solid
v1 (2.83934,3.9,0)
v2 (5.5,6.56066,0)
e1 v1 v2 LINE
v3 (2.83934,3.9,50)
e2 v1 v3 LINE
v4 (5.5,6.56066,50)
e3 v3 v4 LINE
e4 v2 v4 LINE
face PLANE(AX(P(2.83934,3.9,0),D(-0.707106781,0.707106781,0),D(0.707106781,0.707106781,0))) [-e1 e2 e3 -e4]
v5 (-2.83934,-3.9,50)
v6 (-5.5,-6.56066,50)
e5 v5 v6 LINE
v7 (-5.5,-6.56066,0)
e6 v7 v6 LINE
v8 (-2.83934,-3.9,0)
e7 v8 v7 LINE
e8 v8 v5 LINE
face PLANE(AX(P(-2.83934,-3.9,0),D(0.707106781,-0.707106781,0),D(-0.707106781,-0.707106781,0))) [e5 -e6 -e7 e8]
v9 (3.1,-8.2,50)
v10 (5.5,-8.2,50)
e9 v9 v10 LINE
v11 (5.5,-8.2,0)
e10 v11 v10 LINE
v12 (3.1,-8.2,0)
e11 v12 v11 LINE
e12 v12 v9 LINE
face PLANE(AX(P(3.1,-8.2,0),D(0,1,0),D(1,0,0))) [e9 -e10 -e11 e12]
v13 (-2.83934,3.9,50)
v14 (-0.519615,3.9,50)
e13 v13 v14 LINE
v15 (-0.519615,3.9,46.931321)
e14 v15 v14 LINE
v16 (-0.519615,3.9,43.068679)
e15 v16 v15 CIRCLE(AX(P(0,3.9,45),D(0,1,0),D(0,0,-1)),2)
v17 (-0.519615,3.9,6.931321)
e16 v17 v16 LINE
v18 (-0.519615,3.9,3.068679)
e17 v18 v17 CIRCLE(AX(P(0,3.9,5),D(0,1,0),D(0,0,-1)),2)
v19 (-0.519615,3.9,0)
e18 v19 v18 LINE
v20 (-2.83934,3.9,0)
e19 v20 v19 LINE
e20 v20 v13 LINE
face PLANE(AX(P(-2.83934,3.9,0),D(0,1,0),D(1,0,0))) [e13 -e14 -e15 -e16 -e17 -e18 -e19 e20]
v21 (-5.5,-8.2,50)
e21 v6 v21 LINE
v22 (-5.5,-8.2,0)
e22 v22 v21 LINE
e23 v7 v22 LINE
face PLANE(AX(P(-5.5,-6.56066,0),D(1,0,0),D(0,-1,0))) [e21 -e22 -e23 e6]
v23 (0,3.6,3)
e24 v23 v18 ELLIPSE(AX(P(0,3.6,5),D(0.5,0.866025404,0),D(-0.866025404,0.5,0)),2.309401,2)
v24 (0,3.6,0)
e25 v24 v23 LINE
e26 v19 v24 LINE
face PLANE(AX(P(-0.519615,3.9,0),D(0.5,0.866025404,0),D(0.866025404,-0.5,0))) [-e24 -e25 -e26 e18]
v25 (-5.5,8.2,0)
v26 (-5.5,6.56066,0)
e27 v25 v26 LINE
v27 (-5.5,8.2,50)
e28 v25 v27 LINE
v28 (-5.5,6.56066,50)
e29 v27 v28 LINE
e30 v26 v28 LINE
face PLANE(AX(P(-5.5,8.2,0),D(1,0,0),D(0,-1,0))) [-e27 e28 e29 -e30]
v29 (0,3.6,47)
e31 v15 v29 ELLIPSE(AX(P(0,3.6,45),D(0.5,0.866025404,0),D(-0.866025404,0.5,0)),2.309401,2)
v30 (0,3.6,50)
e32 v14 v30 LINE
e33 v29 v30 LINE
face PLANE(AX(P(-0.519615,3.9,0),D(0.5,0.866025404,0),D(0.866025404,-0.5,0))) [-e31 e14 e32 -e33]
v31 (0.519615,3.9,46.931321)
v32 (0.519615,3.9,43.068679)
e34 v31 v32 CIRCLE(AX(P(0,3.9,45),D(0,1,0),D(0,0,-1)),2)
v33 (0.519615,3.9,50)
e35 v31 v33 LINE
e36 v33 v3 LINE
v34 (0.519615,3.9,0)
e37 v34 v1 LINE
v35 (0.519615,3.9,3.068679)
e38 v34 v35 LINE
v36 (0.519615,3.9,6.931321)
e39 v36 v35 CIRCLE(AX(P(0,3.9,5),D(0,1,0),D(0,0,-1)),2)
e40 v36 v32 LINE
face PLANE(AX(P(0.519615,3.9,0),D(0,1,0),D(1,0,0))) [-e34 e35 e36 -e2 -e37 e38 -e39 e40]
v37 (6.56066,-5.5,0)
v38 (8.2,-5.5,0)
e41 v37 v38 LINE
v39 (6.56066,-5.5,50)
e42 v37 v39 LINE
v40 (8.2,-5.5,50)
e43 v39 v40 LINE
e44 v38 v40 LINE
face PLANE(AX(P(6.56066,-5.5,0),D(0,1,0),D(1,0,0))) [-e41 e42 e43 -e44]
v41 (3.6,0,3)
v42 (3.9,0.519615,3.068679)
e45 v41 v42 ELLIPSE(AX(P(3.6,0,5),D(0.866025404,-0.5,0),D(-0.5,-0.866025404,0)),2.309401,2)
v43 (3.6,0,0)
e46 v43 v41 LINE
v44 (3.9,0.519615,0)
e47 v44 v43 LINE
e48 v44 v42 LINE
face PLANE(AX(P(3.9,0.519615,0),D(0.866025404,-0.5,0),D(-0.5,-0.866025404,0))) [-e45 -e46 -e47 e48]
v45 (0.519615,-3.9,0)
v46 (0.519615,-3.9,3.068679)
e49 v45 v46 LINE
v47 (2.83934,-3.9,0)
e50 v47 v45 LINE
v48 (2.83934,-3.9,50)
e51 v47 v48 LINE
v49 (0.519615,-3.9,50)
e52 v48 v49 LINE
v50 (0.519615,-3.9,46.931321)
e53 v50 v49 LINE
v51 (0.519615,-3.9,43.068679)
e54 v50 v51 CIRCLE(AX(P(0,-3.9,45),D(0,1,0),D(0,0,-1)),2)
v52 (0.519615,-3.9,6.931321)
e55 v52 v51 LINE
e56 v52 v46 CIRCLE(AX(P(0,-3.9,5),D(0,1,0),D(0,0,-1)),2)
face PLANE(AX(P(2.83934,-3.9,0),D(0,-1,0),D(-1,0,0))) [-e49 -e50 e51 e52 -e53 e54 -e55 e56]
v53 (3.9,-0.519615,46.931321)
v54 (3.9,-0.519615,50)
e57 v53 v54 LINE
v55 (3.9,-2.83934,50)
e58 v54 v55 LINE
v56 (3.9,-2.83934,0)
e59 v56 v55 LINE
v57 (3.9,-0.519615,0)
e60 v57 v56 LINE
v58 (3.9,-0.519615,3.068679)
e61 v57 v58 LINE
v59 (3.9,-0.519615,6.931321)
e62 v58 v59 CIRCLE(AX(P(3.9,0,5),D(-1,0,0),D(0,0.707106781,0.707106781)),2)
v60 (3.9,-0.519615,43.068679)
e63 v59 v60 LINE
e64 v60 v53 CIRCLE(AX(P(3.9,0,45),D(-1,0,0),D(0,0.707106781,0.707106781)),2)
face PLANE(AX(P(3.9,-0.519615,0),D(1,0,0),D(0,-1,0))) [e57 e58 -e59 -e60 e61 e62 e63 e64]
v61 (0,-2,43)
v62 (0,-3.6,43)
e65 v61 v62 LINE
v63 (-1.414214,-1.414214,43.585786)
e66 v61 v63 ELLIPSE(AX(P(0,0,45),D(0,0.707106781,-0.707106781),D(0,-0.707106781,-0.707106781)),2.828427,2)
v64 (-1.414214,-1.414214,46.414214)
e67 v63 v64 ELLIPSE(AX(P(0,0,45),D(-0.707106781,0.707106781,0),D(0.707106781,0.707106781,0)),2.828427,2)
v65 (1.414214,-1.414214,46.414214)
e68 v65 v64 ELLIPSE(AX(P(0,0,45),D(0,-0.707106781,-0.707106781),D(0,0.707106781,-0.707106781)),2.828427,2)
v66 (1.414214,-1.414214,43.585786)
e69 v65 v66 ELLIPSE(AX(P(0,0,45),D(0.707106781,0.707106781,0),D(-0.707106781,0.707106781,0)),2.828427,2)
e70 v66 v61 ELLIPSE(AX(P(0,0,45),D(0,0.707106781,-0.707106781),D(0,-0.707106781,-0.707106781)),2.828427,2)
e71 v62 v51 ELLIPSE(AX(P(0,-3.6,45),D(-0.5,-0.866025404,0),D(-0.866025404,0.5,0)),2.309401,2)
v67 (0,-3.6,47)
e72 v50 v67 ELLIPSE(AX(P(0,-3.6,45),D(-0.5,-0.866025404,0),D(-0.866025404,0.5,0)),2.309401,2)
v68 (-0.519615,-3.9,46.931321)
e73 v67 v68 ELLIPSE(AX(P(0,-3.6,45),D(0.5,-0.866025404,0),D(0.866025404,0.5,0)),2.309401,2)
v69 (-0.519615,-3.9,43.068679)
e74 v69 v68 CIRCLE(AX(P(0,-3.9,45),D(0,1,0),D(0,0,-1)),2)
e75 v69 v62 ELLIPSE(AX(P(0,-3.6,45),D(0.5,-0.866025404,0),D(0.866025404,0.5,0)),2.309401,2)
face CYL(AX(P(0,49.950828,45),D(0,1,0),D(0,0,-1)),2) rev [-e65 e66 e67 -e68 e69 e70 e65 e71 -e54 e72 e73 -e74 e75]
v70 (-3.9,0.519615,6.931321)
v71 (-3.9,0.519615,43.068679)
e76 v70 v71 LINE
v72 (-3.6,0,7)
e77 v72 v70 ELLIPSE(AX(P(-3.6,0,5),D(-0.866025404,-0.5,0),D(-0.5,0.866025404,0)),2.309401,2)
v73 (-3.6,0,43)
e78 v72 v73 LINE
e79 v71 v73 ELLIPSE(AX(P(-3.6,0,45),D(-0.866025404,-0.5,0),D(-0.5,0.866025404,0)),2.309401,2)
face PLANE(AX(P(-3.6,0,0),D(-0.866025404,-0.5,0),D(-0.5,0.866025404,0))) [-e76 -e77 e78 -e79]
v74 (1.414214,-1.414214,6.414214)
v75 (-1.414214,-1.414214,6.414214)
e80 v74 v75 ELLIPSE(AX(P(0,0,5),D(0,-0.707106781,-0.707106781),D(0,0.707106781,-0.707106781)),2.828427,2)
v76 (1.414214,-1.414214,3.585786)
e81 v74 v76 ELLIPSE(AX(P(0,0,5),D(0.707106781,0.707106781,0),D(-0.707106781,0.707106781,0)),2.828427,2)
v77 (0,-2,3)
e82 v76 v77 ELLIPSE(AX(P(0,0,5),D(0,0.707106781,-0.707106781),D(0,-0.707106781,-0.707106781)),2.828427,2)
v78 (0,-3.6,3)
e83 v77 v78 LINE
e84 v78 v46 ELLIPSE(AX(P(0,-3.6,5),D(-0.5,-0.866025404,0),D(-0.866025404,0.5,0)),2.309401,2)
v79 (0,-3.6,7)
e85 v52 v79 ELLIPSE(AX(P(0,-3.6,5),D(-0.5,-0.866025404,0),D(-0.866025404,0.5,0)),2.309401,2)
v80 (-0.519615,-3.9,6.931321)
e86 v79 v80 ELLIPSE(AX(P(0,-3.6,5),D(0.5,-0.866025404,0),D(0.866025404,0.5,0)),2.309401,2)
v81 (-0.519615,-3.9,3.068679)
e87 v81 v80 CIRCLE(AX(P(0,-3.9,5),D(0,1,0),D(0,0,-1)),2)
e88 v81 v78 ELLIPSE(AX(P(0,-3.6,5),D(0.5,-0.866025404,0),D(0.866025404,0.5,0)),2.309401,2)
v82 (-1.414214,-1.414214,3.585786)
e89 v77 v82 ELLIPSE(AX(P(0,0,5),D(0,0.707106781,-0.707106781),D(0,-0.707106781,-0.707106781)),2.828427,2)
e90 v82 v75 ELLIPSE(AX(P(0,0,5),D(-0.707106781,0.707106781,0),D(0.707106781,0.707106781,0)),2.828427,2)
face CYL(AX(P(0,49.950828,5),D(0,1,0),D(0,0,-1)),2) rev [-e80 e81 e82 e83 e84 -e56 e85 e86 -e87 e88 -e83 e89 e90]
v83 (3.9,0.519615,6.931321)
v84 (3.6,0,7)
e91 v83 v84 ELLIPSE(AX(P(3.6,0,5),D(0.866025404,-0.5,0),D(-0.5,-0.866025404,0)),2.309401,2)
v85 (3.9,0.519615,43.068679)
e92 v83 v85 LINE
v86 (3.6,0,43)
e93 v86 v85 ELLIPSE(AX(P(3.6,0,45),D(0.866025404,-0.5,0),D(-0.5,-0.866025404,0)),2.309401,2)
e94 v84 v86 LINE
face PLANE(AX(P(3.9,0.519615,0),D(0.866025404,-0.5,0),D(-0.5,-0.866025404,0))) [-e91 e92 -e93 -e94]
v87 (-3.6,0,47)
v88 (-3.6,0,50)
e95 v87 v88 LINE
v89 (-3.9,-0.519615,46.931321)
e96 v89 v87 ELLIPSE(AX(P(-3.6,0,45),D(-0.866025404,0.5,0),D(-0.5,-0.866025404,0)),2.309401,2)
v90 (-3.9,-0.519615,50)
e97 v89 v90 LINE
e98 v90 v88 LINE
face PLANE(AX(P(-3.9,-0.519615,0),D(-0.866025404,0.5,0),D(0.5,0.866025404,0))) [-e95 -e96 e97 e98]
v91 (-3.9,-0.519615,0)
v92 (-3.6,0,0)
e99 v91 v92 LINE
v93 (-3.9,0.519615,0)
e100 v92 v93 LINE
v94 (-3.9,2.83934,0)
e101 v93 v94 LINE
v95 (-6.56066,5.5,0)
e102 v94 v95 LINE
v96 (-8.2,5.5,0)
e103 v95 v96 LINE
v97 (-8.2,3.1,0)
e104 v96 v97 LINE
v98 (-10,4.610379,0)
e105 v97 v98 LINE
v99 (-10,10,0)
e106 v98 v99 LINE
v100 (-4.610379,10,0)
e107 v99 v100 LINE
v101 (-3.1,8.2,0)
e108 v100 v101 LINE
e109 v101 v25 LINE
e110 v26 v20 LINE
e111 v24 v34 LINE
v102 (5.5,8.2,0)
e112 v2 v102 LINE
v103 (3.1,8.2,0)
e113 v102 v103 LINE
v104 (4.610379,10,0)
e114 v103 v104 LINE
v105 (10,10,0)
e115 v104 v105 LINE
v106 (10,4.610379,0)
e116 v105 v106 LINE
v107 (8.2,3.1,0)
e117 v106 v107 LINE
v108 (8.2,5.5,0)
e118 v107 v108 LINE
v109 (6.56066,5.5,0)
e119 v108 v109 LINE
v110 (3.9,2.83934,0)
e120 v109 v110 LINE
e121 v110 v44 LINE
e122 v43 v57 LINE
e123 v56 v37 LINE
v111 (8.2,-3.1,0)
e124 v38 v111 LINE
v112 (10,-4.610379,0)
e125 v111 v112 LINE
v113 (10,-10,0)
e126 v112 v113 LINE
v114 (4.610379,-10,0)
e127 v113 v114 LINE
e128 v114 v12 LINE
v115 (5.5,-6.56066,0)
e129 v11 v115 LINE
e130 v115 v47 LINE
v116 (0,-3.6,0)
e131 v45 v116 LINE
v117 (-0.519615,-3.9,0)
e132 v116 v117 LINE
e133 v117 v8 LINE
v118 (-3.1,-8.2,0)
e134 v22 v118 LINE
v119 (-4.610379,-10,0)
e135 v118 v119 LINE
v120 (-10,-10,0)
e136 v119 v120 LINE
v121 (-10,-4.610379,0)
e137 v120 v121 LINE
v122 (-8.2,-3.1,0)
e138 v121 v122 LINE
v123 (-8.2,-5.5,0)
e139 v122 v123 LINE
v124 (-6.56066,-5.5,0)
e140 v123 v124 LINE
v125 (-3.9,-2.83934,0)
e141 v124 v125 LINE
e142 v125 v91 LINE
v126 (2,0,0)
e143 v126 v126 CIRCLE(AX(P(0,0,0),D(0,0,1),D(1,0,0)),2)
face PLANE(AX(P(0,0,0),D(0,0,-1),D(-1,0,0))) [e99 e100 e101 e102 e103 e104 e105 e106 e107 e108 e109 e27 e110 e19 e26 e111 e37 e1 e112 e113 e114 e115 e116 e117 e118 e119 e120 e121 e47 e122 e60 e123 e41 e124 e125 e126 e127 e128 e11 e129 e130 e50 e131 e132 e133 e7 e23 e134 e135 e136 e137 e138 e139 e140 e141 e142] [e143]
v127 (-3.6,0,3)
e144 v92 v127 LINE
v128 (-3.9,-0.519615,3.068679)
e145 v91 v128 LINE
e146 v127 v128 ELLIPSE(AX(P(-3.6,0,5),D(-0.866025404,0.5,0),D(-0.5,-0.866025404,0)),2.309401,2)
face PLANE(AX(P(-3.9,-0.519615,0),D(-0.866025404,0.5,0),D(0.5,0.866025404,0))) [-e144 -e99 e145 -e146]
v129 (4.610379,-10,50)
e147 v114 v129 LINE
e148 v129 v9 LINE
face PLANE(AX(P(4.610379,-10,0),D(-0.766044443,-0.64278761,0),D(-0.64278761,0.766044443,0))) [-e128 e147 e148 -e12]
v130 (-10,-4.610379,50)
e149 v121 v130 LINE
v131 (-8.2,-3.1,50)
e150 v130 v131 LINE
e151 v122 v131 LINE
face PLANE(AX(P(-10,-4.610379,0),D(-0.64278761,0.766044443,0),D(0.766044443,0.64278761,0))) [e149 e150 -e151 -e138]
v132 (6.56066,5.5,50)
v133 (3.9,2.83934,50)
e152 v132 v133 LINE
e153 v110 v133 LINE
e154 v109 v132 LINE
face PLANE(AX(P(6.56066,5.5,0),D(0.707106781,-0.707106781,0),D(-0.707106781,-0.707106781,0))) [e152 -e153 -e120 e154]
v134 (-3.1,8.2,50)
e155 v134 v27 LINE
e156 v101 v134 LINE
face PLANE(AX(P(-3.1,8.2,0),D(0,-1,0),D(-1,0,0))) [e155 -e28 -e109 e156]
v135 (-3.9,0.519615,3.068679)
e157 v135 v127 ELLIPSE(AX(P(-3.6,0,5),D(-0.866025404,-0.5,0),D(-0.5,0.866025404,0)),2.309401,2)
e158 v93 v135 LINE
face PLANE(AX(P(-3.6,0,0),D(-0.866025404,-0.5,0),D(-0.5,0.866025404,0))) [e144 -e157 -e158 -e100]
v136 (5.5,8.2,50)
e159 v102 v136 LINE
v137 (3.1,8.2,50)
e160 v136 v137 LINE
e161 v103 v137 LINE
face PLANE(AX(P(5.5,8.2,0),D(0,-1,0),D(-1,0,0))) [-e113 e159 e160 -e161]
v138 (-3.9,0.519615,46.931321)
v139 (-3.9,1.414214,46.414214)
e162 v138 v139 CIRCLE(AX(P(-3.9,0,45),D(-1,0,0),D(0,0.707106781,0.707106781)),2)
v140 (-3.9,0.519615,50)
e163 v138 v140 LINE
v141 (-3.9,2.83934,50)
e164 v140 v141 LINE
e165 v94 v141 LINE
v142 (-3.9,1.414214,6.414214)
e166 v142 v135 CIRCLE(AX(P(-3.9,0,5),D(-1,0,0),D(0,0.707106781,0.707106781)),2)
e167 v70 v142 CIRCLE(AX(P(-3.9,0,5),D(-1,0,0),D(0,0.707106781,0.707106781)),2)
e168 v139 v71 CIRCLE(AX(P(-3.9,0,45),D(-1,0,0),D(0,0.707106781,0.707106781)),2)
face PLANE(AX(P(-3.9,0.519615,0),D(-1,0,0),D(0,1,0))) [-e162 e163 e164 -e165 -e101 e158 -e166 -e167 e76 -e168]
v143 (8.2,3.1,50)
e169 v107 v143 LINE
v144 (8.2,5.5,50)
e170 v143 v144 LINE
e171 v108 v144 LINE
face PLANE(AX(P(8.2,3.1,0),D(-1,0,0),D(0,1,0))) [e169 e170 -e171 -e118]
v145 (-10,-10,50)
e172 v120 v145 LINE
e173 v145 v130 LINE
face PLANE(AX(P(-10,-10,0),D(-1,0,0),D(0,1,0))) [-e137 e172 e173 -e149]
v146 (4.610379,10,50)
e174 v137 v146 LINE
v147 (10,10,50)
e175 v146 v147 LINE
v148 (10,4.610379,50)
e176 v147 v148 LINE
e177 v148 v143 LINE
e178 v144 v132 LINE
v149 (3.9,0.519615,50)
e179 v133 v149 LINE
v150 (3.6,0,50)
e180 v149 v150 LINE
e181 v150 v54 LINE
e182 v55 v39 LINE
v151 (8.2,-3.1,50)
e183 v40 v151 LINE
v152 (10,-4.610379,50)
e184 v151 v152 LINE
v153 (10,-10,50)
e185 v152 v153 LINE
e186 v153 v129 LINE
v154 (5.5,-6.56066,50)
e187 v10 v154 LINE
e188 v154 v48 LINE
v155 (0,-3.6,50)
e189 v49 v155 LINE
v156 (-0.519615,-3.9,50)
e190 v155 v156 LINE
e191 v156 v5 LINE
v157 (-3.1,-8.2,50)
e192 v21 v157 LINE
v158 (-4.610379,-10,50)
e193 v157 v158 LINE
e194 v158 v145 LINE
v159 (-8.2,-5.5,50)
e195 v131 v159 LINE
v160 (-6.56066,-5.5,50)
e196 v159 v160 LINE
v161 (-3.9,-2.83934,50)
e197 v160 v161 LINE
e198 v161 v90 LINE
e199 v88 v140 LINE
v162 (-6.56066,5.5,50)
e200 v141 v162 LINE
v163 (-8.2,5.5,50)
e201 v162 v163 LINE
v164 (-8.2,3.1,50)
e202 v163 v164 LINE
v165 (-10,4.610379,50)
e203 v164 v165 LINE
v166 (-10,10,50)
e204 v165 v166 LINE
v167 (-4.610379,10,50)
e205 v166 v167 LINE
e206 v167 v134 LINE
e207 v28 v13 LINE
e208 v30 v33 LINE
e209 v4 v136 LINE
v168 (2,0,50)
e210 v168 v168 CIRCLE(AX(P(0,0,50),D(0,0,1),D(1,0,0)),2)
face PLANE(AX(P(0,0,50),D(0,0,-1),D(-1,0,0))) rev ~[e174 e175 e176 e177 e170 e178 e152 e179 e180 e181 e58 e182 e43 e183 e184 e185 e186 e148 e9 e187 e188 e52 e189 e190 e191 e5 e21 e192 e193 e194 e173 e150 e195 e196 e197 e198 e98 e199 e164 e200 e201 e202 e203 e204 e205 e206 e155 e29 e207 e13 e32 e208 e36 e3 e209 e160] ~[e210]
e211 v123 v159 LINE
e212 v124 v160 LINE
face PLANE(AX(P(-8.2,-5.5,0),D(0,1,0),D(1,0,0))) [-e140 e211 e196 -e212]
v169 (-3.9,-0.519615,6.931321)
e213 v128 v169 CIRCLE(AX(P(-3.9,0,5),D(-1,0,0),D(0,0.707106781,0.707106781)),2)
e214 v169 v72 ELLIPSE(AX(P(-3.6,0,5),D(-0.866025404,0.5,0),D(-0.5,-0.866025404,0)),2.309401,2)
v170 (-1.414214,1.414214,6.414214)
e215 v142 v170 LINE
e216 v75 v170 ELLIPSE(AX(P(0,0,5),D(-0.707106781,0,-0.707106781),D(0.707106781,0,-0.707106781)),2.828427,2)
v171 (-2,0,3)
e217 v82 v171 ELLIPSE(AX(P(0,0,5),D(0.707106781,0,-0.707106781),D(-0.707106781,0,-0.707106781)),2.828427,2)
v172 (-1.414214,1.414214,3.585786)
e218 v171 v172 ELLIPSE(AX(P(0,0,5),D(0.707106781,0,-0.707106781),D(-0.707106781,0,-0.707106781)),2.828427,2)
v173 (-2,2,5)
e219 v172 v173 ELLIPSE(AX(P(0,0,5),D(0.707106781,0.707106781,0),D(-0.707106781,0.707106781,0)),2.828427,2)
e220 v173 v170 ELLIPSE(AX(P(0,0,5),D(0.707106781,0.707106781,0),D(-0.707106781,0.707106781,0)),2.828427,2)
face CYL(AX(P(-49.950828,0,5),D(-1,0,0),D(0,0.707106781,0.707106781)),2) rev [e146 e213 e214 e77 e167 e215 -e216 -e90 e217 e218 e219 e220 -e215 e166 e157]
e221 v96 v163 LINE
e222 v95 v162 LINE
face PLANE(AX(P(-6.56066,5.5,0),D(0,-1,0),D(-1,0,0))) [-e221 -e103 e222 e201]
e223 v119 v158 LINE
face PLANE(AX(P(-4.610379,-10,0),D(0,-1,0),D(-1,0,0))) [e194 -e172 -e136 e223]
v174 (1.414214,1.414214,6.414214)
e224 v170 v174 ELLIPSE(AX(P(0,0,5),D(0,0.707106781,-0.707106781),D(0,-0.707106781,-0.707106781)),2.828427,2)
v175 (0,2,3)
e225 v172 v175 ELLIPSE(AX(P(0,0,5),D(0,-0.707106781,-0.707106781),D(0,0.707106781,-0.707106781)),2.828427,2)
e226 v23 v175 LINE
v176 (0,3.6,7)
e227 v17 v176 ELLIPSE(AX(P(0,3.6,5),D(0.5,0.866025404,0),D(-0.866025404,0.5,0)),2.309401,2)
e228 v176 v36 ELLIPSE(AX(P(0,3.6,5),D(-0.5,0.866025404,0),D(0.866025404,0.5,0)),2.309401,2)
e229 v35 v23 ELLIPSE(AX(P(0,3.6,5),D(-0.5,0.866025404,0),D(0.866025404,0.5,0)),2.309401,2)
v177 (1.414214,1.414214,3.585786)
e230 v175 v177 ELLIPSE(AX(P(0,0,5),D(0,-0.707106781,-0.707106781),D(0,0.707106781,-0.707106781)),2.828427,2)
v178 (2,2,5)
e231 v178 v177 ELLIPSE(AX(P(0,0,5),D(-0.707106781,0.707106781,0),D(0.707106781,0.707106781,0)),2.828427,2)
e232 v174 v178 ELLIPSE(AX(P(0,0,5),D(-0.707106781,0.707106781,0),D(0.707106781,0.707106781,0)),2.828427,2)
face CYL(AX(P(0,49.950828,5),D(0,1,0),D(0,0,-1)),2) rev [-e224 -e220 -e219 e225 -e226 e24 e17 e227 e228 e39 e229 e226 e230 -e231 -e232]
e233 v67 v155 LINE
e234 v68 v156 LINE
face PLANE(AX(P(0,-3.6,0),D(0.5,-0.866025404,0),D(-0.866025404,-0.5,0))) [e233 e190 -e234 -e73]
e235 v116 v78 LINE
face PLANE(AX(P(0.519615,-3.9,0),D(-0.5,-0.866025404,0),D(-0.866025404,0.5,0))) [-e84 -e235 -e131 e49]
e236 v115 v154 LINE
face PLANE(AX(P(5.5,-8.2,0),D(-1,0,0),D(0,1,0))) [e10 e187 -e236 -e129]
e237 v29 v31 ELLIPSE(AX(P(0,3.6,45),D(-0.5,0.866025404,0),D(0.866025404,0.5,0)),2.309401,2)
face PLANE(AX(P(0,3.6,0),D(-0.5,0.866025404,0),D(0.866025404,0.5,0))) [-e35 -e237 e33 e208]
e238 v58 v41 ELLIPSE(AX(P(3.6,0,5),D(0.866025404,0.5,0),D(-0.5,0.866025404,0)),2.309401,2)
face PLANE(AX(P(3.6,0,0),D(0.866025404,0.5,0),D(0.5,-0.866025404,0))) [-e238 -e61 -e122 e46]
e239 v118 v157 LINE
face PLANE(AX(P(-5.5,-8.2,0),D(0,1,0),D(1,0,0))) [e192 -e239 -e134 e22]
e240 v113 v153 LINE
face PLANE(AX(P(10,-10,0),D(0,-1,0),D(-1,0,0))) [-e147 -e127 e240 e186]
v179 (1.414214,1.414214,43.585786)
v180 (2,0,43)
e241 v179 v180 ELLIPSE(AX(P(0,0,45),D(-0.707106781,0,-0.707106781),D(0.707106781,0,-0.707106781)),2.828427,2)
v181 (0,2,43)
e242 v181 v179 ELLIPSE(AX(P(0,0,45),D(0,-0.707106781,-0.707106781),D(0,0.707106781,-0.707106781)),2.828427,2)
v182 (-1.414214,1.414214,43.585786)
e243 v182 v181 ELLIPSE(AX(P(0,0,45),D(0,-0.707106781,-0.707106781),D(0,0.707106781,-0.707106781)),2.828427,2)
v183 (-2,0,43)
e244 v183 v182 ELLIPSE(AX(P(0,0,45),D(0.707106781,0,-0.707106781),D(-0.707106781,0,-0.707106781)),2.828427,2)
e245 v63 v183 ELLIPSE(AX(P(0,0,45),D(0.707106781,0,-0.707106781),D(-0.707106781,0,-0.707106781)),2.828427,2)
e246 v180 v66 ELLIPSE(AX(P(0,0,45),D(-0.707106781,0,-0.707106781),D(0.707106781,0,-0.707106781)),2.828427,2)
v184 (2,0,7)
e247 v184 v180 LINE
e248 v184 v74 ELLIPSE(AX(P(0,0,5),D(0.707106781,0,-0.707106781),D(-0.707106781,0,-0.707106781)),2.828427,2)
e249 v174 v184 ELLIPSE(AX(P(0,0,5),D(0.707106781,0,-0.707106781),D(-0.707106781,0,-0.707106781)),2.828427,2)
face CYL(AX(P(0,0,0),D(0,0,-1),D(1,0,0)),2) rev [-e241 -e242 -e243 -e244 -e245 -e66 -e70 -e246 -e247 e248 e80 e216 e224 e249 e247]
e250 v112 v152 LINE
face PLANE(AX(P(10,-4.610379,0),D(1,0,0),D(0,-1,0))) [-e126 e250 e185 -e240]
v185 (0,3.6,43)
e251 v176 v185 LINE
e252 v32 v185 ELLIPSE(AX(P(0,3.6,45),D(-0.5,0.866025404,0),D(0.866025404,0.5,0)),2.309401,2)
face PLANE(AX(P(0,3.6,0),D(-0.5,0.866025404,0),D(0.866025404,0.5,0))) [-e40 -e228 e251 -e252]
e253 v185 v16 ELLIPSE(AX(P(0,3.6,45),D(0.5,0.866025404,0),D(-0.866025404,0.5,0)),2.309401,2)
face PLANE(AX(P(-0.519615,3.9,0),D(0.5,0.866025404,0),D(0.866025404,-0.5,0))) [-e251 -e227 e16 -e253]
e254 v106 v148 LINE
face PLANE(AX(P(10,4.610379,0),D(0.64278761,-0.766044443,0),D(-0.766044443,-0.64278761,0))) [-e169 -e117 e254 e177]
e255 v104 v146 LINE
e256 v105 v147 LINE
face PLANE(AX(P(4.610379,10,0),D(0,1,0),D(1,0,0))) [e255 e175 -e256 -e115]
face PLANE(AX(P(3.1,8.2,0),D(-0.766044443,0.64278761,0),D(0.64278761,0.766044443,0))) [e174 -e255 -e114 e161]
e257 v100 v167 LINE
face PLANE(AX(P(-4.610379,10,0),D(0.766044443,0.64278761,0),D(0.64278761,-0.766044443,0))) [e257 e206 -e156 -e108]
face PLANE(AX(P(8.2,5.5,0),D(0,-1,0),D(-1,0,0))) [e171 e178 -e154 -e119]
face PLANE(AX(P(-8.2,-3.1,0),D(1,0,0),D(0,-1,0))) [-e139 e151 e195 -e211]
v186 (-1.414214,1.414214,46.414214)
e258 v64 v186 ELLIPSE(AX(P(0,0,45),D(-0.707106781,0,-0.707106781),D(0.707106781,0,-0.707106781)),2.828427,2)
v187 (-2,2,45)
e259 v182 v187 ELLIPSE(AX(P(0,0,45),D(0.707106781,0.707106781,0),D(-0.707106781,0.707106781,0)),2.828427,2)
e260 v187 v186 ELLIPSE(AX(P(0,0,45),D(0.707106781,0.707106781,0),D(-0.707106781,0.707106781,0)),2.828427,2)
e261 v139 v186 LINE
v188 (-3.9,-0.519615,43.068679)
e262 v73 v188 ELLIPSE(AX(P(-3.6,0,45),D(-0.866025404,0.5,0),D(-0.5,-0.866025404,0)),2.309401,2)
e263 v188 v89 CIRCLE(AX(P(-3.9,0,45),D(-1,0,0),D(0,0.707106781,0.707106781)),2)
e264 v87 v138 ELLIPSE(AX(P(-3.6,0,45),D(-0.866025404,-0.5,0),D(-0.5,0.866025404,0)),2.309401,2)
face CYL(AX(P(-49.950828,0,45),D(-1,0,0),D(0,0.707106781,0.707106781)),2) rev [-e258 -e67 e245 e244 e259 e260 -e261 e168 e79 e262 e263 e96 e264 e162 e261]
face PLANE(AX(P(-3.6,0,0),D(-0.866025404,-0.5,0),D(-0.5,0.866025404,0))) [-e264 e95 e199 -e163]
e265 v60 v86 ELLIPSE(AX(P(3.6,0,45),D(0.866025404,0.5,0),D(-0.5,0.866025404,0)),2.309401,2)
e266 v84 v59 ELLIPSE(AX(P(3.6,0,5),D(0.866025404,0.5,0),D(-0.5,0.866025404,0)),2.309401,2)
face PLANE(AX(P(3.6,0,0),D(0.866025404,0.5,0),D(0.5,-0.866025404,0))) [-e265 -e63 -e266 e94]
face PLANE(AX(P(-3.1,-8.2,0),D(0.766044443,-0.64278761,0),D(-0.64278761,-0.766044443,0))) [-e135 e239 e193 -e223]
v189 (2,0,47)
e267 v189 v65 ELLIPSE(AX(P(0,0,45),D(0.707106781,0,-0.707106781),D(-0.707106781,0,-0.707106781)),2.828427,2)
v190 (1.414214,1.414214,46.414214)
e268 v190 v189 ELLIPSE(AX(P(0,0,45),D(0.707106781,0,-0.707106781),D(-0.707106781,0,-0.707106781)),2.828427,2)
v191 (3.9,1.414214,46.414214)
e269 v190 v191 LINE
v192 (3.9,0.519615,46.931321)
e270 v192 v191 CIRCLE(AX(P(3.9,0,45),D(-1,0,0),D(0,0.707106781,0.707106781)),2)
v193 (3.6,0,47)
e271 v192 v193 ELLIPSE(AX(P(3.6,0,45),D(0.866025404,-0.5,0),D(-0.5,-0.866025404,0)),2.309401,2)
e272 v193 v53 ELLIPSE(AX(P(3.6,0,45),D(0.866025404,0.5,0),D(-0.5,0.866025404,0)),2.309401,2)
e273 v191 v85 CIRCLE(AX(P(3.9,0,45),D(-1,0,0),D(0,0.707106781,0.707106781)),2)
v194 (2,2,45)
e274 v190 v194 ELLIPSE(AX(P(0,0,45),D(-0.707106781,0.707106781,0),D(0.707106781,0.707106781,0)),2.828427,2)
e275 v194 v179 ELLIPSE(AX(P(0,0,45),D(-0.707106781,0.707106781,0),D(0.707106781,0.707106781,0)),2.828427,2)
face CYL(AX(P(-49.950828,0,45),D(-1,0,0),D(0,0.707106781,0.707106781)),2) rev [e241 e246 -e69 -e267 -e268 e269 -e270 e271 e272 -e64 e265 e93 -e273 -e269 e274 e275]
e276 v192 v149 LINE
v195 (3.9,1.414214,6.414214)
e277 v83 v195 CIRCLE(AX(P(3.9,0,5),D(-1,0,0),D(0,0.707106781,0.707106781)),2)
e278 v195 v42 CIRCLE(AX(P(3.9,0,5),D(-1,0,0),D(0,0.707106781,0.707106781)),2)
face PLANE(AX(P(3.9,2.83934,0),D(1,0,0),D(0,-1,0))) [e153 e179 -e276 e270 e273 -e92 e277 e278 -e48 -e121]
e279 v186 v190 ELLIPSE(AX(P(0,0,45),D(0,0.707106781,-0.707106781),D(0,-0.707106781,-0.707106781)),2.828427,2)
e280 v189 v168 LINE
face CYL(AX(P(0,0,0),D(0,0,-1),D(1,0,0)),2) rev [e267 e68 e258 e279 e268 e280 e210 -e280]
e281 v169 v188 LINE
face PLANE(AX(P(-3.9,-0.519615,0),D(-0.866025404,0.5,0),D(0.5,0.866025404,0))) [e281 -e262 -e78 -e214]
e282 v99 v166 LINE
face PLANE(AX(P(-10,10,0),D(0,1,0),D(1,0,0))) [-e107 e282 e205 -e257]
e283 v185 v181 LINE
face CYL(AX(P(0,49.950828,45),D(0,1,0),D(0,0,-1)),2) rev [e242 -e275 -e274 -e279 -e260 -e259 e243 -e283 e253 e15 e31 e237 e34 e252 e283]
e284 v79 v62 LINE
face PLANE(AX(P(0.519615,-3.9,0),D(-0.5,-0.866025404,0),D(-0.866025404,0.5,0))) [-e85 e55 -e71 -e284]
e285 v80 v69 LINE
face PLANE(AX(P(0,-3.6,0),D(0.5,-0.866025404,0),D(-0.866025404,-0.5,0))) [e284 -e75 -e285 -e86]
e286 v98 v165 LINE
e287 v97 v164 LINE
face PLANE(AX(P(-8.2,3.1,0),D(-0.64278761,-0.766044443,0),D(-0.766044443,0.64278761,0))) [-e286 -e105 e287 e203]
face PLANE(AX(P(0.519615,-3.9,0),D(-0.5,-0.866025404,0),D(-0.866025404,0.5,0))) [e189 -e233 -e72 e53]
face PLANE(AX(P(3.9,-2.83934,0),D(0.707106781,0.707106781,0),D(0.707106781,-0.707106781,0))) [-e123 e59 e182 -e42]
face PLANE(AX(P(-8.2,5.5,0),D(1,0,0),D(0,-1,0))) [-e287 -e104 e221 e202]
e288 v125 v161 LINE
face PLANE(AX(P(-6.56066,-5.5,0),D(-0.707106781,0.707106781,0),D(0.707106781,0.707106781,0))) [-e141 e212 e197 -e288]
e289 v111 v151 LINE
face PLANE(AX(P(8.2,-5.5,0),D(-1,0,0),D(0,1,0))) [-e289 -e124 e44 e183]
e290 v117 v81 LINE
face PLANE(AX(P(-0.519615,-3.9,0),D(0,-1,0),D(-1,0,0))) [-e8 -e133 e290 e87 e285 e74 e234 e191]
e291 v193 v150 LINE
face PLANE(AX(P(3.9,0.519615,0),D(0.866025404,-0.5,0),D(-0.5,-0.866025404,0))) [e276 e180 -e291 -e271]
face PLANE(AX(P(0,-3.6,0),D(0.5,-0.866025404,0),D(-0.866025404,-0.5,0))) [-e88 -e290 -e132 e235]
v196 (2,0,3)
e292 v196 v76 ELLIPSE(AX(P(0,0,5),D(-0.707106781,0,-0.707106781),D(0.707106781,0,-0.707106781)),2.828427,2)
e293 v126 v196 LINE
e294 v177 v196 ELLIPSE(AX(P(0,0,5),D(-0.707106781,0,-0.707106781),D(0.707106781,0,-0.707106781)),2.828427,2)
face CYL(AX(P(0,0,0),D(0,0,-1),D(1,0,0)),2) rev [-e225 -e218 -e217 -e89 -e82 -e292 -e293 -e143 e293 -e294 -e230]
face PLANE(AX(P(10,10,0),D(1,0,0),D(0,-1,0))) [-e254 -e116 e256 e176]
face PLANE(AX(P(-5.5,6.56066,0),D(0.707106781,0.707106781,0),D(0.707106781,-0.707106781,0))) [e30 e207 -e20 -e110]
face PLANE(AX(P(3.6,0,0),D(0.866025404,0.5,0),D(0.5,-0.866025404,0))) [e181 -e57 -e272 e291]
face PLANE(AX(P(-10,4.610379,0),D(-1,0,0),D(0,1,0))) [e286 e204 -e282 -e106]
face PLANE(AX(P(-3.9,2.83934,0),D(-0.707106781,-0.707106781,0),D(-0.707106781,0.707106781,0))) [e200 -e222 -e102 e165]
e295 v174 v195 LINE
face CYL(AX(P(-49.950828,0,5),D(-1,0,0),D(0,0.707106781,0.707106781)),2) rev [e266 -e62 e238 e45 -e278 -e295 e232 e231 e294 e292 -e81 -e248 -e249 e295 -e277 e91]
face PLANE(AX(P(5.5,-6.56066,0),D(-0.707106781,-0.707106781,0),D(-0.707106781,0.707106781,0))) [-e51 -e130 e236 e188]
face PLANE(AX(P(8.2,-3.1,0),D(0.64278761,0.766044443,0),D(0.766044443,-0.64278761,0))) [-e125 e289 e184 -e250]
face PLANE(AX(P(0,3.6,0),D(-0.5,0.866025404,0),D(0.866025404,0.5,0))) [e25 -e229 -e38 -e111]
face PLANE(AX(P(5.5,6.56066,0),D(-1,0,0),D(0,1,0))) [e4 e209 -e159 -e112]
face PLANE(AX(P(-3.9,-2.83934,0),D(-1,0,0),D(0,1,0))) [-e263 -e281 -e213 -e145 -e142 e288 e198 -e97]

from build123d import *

# Parameters (mm, degrees)
SKETCH1_R               = 2
BOSS_EXTRUDE1_DEPTH     = 50
CUT_EXTRUDE1_DEPTH      = 53.850827808
CUT_EXTRUDE1_DEPTH_BACK = 53.850827808
SKETCH2_R               = 2
CUT_EXTRUDE2_DEPTH      = 53.850827808
CUT_EXTRUDE2_DEPTH_BACK = 53.850827808
SKETCH3_R               = 2


with BuildPart() as part:
    # Sketch1 → Boss-Extrude1 (new body)
    with BuildSketch(Plane.XY):
        Polygon((10, 10), (10, 4.610379336), (8.2, 3.1), (8.2, 5.5), (6.560660172, 5.5), (3.9, 2.839339828), (3.9, 0.519615242), (3.6, 0), (3.9, -0.519615242), (3.9, -2.839339828), (6.560660172, -5.5), (8.2, -5.5), (8.2, -3.1), (10, -4.610379336), (10, -10), (4.610379336, -10), (3.1, -8.2), (5.5, -8.2), (5.5, -6.560660172), (2.839339828, -3.9), (0.519615242, -3.9), (0, -3.6), (-0.519615242, -3.9), (-2.839339828, -3.9), (-5.5, -6.560660172), (-5.5, -8.2), (-3.1, -8.2), (-4.610379336, -10), (-10, -10), (-10, -4.610379336), (-8.2, -3.1), (-8.2, -5.5), (-6.560660172, -5.5), (-3.9, -2.839339828), (-3.9, -0.519615242), (-3.6, 0), (-3.9, 0.519615242), (-3.9, 2.839339828), (-6.560660172, 5.5), (-8.2, 5.5), (-8.2, 3.1), (-10, 4.610379336), (-10, 10), (-4.610379336, 10), (-3.1, 8.2), (-5.5, 8.2), (-5.5, 6.560660172), (-2.839339828, 3.9), (-0.519615242, 3.9), (0, 3.6), (0.519615242, 3.9), (2.839339828, 3.9), (5.5, 6.560660172), (5.5, 8.2), (3.1, 8.2), (4.610379336, 10), align=None)
        Circle(SKETCH1_R, mode=Mode.SUBTRACT)
    extrude(amount=BOSS_EXTRUDE1_DEPTH)

    # Sketch2 → Cut-Extrude1 (cut, two sides: drawn at the far end of the back side and taken through both)
    with BuildSketch(Plane(origin=(0, -3.9, 0), x_dir=(-1, 0, 0), z_dir=(0, -1, 0)).offset(-CUT_EXTRUDE1_DEPTH_BACK)):
        with Locations(Location((0, -5, 0), (0, 0, 90))):
            Circle(SKETCH2_R)
        with Locations(Location((0, -45, 0), (0, 0, 90))):
            Circle(SKETCH2_R)
    extrude(amount=CUT_EXTRUDE1_DEPTH + CUT_EXTRUDE1_DEPTH_BACK, mode=Mode.SUBTRACT)

    # Sketch3 → Cut-Extrude2 (cut, two sides: drawn at the far end of the back side and taken through both)
    with BuildSketch(Plane(origin=(3.9, 0, 0), x_dir=(0, 0, -1), z_dir=(1, 0, 0)).offset(-CUT_EXTRUDE2_DEPTH_BACK)):
        with Locations(Location((-45, 0, 0), (0, 0, 135))):
            Circle(SKETCH3_R)
        with Locations(Location((-5, 0, 0), (0, 0, 135))):
            Circle(SKETCH3_R)
    extrude(amount=CUT_EXTRUDE2_DEPTH + CUT_EXTRUDE2_DEPTH_BACK, mode=Mode.SUBTRACT)


solid = part.part
